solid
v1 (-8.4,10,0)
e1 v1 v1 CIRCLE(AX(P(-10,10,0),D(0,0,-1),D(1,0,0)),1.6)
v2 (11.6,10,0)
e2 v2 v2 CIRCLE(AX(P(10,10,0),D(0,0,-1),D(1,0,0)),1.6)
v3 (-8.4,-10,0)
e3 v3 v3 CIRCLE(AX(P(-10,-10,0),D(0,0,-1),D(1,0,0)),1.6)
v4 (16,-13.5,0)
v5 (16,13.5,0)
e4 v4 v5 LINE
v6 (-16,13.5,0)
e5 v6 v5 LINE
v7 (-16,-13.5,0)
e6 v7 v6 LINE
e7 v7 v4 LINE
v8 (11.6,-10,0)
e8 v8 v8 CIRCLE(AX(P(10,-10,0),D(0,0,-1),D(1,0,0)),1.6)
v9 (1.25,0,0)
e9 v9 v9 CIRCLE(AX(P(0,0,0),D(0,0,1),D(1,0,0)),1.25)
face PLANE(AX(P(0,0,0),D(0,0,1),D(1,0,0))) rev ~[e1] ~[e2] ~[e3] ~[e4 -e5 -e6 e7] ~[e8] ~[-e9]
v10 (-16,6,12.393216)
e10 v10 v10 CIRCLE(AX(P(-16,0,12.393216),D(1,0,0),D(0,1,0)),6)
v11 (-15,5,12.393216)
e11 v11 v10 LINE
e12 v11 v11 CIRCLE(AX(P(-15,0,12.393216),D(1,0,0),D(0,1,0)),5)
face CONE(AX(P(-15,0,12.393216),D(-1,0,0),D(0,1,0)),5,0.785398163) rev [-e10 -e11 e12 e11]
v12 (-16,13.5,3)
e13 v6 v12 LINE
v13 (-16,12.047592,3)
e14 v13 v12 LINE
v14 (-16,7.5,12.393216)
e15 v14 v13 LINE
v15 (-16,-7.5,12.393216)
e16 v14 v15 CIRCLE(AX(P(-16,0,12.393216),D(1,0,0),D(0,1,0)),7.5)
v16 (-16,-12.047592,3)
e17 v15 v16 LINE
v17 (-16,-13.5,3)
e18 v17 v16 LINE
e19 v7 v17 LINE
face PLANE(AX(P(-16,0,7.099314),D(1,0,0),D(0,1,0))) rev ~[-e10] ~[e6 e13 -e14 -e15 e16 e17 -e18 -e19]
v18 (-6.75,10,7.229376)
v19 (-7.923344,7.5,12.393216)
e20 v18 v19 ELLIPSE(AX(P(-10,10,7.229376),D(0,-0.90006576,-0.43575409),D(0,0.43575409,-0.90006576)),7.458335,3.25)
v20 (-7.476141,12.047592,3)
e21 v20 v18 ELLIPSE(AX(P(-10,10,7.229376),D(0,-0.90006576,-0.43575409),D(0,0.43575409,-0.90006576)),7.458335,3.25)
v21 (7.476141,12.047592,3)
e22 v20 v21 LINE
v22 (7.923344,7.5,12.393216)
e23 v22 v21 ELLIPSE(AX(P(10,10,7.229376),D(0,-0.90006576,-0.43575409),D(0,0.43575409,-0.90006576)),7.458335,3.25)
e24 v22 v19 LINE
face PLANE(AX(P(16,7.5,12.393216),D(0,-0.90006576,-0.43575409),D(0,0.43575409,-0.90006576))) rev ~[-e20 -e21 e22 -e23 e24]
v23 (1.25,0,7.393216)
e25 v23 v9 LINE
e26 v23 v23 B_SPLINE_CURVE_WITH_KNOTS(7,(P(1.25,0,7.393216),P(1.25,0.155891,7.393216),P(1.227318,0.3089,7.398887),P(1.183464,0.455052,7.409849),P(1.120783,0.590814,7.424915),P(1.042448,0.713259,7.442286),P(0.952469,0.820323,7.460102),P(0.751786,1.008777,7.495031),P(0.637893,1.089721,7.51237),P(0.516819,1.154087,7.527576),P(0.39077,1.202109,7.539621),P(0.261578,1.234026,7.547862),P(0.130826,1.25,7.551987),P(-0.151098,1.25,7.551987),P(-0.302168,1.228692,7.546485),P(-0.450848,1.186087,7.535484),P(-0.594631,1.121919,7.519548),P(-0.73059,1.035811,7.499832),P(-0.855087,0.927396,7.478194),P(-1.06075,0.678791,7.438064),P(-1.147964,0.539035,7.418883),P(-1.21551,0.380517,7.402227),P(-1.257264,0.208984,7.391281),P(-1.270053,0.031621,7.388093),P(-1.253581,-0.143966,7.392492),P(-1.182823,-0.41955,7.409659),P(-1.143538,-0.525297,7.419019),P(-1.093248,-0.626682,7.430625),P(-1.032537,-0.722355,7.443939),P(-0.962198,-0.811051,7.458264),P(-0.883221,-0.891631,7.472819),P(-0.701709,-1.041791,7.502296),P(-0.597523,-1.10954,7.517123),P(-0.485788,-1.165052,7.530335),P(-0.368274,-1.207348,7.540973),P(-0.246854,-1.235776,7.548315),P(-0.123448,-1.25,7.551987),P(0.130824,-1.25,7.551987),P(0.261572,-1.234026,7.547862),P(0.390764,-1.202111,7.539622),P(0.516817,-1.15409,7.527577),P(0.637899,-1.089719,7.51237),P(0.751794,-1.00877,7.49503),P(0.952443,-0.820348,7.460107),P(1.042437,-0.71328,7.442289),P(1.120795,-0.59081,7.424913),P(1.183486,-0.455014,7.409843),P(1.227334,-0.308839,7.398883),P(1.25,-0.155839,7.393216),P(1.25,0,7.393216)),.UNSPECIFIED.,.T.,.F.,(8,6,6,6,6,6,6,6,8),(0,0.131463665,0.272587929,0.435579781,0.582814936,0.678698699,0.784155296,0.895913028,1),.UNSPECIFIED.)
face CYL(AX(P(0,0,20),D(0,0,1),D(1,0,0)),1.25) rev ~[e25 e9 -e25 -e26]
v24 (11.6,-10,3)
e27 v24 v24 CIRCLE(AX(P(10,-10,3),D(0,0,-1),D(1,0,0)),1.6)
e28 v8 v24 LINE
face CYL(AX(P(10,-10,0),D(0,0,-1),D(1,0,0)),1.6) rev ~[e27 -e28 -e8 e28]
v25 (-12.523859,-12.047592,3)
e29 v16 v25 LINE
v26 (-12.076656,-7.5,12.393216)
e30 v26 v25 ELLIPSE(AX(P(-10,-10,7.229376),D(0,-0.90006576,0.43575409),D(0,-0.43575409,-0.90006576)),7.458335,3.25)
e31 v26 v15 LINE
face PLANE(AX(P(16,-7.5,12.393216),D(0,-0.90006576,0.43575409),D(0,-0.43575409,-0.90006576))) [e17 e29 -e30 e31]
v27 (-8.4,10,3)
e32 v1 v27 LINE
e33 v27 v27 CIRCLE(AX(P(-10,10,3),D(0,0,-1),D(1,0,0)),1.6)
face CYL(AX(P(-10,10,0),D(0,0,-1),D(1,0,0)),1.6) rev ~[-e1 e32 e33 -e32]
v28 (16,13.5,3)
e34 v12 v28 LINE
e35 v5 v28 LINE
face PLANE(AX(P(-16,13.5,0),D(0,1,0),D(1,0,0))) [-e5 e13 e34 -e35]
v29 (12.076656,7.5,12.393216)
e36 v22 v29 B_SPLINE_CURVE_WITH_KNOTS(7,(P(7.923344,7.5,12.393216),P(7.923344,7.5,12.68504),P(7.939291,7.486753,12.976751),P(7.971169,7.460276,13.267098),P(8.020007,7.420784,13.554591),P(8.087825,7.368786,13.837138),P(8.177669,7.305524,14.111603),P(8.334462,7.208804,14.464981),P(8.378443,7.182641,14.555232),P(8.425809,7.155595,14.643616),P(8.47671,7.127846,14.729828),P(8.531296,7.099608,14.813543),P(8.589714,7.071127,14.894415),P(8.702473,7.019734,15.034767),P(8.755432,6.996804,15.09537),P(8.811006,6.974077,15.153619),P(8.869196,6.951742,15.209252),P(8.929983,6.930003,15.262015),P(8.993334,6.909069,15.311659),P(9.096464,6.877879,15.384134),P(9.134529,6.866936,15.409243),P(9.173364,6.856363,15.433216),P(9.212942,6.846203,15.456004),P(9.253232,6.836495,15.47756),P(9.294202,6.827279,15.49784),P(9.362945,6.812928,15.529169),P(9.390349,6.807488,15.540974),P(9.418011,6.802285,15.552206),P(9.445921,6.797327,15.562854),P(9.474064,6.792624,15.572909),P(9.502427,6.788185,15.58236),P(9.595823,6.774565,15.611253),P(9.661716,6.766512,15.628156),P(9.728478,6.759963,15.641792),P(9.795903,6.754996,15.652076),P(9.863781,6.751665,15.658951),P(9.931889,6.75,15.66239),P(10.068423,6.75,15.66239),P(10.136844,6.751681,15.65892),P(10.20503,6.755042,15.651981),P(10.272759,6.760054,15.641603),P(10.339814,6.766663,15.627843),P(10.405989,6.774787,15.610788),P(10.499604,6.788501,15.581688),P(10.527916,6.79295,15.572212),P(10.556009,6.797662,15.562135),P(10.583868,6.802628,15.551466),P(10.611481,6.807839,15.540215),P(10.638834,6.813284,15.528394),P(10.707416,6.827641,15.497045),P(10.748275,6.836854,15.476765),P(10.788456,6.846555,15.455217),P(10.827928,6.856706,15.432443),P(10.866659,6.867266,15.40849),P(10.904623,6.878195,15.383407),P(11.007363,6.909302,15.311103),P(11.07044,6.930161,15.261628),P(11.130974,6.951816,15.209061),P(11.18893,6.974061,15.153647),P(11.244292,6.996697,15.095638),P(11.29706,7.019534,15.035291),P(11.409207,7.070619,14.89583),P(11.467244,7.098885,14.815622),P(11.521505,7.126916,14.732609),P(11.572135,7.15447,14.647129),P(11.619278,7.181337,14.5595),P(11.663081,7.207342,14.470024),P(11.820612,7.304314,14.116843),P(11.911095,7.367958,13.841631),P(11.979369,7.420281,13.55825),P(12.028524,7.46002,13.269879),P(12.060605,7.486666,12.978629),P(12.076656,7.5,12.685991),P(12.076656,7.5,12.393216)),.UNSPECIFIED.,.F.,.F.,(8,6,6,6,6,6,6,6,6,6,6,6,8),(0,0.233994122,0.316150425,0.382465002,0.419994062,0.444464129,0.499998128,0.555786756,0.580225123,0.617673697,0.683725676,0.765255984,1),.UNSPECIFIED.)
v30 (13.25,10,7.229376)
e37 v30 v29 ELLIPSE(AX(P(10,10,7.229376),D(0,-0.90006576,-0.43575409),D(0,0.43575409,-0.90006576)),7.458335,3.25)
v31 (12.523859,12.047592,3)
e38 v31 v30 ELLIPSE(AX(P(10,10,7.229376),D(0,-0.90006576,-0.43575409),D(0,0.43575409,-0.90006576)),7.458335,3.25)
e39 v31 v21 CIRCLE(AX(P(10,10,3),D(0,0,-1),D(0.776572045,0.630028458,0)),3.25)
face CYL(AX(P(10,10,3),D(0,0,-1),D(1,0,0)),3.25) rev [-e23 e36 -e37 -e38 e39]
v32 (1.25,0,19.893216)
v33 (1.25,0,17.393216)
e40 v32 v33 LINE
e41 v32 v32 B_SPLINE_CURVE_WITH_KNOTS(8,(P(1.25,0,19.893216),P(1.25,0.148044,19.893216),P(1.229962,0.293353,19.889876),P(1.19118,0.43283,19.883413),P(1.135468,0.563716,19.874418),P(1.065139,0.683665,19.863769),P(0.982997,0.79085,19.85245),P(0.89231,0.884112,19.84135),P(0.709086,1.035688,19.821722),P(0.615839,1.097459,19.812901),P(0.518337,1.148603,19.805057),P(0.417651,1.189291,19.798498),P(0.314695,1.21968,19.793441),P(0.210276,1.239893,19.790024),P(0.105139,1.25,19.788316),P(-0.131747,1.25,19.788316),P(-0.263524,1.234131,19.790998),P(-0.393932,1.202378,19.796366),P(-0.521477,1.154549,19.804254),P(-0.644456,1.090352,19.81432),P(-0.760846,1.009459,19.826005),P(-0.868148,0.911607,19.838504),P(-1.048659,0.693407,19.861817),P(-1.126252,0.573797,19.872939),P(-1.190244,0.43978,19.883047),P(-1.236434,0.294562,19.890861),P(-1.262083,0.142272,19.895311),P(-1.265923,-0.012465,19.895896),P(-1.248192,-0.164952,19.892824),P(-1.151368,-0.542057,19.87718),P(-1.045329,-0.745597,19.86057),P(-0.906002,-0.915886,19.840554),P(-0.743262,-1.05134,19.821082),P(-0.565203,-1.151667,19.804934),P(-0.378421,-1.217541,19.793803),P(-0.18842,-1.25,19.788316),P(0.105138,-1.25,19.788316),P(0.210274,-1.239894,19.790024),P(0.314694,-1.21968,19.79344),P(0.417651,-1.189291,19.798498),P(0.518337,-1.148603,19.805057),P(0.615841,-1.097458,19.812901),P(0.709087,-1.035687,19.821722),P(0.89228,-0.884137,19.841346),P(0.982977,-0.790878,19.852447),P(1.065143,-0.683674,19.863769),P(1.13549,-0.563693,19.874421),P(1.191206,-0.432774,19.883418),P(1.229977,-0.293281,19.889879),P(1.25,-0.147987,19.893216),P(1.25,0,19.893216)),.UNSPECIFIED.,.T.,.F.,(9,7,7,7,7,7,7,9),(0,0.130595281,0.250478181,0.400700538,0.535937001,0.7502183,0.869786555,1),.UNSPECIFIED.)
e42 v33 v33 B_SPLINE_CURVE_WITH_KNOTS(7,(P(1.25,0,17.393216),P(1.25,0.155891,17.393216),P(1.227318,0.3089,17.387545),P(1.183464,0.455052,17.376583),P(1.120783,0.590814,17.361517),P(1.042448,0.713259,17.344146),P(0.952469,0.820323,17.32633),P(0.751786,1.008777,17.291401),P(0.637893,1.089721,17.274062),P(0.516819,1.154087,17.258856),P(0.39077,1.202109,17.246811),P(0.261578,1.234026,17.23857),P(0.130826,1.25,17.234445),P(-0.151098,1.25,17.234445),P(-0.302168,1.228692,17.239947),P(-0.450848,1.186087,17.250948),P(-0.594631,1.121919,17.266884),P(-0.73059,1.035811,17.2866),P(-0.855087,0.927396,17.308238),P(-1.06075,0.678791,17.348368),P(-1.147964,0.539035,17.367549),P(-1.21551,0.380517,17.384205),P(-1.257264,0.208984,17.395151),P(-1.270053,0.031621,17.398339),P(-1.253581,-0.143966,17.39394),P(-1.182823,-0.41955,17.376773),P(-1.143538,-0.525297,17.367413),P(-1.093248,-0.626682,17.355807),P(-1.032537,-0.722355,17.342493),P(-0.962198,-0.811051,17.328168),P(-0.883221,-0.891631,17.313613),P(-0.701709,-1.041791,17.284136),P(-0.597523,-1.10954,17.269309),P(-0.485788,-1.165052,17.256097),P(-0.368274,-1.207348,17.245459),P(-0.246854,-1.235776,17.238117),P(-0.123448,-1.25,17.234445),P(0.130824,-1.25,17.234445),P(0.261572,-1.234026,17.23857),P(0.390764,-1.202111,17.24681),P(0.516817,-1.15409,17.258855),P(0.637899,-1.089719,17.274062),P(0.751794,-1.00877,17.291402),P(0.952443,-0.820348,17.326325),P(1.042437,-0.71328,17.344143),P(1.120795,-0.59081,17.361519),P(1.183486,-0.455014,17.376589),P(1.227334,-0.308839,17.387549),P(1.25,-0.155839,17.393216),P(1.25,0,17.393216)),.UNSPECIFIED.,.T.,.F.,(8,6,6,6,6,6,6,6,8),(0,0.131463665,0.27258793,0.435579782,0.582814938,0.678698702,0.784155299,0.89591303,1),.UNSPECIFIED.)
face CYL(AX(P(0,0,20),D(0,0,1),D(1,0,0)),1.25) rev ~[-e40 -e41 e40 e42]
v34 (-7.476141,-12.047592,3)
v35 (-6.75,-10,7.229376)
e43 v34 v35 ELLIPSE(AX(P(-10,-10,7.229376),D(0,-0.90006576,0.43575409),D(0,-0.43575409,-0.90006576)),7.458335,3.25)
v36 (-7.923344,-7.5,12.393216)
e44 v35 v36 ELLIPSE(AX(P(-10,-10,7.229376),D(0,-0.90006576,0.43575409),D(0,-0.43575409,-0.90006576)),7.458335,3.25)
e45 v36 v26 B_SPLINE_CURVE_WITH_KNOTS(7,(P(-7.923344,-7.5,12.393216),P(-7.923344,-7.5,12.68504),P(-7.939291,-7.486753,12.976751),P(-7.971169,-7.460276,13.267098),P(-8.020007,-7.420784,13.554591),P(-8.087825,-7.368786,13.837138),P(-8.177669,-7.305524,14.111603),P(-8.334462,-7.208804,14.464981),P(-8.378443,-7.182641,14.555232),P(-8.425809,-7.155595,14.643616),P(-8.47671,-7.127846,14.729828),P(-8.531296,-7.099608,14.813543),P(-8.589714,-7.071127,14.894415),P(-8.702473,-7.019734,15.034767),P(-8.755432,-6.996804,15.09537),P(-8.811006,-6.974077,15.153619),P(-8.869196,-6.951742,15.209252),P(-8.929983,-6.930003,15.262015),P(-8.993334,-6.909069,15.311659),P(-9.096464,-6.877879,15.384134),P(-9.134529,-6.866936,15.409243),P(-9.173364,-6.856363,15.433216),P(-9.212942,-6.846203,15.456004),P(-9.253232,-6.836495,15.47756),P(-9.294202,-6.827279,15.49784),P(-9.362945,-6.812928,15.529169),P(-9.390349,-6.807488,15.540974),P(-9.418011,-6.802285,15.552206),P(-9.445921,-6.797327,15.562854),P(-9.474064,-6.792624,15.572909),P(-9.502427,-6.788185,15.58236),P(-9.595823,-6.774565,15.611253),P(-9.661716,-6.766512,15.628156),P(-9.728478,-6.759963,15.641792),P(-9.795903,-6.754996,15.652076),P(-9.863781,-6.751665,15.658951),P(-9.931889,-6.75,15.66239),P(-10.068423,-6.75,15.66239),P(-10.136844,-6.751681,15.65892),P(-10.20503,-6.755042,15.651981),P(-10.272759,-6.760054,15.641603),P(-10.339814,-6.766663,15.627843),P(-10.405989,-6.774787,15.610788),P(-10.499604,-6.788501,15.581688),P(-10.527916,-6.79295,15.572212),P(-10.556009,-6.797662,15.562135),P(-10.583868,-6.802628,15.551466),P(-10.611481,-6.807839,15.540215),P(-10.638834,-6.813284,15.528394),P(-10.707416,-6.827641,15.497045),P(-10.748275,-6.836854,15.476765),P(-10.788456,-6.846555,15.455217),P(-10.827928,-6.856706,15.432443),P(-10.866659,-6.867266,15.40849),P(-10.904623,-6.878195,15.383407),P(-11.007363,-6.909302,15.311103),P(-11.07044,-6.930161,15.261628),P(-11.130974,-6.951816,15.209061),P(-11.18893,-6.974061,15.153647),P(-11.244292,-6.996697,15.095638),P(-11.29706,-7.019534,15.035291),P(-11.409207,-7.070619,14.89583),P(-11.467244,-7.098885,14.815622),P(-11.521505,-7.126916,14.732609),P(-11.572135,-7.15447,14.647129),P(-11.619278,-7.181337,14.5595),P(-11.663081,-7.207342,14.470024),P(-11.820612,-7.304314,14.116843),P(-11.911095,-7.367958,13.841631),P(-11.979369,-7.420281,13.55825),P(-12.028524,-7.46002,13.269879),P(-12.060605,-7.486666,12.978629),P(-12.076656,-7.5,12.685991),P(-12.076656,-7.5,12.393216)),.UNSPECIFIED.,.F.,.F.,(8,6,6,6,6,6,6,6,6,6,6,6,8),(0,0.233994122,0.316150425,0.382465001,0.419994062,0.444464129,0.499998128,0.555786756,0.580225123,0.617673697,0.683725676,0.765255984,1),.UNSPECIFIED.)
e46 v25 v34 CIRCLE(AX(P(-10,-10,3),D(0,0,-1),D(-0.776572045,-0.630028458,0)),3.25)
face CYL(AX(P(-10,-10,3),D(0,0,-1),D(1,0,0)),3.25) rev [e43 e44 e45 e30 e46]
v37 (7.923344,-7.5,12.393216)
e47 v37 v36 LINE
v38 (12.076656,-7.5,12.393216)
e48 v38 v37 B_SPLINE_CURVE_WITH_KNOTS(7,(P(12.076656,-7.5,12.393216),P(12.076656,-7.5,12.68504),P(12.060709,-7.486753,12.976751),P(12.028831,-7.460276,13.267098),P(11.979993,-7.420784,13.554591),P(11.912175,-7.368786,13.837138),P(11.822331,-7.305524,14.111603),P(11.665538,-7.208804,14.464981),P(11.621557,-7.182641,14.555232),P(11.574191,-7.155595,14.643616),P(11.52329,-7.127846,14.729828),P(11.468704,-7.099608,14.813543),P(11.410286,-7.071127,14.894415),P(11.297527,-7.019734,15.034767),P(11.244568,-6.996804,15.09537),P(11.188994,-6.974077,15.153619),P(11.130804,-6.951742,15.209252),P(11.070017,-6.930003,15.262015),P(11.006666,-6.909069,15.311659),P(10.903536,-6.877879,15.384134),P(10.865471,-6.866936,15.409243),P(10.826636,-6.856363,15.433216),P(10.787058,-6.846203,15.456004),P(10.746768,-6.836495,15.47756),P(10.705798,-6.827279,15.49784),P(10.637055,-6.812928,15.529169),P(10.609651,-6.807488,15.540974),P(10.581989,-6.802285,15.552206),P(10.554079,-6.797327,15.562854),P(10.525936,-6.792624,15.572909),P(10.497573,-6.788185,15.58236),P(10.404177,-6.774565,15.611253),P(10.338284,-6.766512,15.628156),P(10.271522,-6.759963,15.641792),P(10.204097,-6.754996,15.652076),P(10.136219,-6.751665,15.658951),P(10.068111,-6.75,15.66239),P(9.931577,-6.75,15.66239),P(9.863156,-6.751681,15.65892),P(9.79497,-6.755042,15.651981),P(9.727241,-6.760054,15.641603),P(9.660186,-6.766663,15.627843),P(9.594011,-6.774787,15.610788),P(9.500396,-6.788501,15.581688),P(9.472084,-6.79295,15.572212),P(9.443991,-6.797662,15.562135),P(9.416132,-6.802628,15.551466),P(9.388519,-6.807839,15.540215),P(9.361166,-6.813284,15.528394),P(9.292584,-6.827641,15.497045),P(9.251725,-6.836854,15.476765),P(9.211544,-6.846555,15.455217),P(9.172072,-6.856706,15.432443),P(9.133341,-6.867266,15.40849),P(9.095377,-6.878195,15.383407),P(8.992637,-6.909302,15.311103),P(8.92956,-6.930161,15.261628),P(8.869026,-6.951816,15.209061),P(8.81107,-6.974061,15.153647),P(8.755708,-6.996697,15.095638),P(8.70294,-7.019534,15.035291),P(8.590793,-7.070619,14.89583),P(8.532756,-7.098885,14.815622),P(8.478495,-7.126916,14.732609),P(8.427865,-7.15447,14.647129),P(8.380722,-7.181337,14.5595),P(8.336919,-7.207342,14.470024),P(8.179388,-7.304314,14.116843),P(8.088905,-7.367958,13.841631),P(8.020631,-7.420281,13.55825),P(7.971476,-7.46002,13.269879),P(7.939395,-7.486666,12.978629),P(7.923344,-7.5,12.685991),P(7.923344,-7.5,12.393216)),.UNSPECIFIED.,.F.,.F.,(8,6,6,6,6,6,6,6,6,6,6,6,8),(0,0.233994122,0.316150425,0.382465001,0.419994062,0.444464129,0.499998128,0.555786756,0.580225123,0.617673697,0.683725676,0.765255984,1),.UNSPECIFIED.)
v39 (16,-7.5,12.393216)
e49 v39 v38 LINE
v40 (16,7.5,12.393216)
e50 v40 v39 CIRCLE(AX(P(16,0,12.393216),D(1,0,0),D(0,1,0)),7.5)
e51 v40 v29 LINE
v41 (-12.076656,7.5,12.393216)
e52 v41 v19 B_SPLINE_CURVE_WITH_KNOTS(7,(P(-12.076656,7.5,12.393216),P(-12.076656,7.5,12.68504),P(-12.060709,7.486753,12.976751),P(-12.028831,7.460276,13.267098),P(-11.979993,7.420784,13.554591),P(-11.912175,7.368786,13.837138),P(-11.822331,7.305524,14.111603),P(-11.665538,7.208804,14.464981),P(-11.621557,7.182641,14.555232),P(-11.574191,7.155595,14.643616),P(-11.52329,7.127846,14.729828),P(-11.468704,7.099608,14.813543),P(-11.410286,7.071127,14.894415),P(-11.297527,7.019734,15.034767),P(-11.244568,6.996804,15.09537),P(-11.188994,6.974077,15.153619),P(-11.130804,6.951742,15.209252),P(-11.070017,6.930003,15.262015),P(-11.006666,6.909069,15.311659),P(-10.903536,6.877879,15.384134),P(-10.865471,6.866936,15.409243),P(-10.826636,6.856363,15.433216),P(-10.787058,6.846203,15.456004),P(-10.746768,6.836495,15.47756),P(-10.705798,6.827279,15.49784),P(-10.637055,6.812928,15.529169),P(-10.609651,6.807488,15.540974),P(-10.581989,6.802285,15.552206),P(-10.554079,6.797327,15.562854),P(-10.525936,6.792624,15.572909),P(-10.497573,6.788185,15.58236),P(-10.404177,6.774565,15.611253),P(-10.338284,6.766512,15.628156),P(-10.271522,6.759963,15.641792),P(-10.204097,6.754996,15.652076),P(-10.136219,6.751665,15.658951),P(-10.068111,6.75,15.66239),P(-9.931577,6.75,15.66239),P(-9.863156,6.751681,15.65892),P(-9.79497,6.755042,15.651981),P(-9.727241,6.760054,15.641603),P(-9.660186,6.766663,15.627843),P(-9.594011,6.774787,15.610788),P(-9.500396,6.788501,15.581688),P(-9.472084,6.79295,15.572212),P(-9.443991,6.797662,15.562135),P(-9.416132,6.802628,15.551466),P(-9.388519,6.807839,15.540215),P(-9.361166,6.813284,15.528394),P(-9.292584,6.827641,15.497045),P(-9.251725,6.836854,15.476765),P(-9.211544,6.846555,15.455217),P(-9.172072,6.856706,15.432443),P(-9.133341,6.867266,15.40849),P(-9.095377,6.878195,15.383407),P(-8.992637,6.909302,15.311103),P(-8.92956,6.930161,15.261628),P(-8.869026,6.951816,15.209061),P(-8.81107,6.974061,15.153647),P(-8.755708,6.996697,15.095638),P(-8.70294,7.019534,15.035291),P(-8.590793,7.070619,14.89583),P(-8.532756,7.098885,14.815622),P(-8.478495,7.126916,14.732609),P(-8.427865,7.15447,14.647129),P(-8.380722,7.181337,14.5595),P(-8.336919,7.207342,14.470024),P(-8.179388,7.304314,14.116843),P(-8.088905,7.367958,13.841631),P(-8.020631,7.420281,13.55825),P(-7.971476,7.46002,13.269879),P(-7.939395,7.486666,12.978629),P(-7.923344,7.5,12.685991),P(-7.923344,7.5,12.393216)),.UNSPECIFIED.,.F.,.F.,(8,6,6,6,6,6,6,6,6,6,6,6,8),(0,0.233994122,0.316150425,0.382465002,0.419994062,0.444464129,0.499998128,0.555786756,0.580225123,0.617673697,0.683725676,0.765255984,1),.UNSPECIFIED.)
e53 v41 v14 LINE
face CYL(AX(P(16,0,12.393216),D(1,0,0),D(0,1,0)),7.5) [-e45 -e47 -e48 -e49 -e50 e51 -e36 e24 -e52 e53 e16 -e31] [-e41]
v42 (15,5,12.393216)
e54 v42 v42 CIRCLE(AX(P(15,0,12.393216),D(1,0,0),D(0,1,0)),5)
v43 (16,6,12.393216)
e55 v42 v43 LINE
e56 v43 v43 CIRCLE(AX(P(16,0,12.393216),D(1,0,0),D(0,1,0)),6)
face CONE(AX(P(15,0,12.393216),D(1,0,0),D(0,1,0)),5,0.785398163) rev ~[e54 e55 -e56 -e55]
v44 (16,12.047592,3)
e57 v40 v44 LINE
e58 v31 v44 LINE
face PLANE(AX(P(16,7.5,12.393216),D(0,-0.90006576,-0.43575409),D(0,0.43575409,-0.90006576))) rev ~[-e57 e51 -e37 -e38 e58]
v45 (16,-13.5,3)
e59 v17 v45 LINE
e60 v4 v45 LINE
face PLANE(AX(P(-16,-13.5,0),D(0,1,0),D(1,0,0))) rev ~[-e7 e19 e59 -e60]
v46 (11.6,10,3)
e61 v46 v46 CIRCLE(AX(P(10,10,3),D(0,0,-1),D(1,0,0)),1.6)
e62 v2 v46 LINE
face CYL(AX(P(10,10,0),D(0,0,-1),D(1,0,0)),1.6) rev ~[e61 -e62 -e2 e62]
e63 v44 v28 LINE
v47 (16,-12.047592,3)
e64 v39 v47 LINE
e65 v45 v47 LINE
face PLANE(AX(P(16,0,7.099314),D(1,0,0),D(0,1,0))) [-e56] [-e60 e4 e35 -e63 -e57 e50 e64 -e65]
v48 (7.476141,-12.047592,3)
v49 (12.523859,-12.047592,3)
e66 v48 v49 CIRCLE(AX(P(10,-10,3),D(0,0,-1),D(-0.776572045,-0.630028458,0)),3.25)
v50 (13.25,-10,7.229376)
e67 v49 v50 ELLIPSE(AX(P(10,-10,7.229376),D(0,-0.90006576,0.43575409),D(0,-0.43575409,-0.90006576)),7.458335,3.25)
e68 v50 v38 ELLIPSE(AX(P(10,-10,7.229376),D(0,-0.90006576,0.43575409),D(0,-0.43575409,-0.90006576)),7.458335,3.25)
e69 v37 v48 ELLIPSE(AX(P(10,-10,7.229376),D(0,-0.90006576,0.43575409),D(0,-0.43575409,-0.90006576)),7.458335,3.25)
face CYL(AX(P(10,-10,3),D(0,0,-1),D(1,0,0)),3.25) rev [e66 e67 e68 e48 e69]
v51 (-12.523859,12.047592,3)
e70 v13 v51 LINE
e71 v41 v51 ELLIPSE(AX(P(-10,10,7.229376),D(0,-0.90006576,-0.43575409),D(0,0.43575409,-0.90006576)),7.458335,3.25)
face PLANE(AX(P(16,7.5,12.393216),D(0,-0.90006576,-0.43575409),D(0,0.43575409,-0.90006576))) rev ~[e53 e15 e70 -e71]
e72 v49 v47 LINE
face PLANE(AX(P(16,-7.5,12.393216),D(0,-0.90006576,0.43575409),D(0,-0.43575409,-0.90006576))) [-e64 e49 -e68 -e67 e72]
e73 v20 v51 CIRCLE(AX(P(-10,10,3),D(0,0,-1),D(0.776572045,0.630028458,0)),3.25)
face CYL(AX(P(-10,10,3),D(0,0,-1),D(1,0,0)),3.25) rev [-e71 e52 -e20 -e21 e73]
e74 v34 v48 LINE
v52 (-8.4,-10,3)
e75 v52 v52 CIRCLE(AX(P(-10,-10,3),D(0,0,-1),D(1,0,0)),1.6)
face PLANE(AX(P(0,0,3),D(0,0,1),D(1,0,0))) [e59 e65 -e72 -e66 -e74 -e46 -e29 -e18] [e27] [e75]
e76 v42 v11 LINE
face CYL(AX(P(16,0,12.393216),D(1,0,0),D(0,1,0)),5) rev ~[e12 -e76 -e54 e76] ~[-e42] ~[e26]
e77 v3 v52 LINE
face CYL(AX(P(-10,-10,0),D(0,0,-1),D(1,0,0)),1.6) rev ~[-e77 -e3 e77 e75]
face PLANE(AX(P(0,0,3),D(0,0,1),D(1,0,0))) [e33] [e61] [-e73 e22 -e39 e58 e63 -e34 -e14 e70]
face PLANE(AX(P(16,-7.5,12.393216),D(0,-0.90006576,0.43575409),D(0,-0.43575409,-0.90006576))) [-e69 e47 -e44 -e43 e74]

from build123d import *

# Parameters (mm, degrees)
SKETCH_W        = 32
SKETCH_H        = 27
SKETCH_R        = 1.65
PAD_DEPTH       = 3
SKETCH001_R     = 5
PAD001_DEPTH    = 32
SKETCH002_R     = 1.6
POCKET_DEPTH    = 19.894216
SKETCH003_R     = 3.25
POCKET001_DEPTH = 16.894216
CHAMFER_SIZE    = 1
CHAMFER001_SIZE = 1
SKETCH004_R     = 1.25
POCKET002_DEPTH = 20.001


with BuildPart() as part:
    # Sketch → Pad (new body)
    with BuildSketch(Plane.XY):
        Rectangle(SKETCH_W, SKETCH_H)
        with Locations((-10, -10)):
            Circle(SKETCH_R, mode=Mode.SUBTRACT)
        with Locations((-10, 10)):
            Circle(SKETCH_R, mode=Mode.SUBTRACT)
        with Locations((10, 10)):
            Circle(SKETCH_R, mode=Mode.SUBTRACT)
        with Locations((10, -10)):
            Circle(SKETCH_R, mode=Mode.SUBTRACT)
    extrude(amount=PAD_DEPTH)

    # Sketch001 (on Face2 of Pad) → Pad001 (join)
    with BuildSketch(Plane.YZ.offset(16)):
        with BuildLine():
            ThreePointArc((7.5, 12.393216), (0, 19.893216), (-7.5, 12.393216))
            Line((-7.5, 12.393216), (-13.5, 0))
            Line((-13.5, 0), (13.5, 0))
            Line((7.5, 12.393216), (13.5, 0))
        make_face()
        with Locations((0, 12.393216)):
            Circle(SKETCH001_R, mode=Mode.SUBTRACT)
    extrude(amount=-PAD001_DEPTH)

    # Sketch002 (on Face4 of Pad001) → Pocket (cut, through all)
    with BuildSketch(Plane(origin=(0, 0, 0), x_dir=(1, 0, 0), z_dir=(0, 0, -1))):
        with Locations((10, 10)):
            Circle(SKETCH002_R)
        with Locations((-10, 10)):
            Circle(SKETCH002_R)
        with Locations((-10, -10)):
            Circle(SKETCH002_R)
        with Locations((10, -10)):
            Circle(SKETCH002_R)
    extrude(amount=-POCKET_DEPTH, mode=Mode.SUBTRACT)

    # Sketch003 (on Face18 of Pocket) → Pocket001 (cut, through all)
    with BuildSketch(Plane.XY.offset(3)):
        with Locations((-10, 10)):
            Circle(SKETCH003_R)
        with Locations((10, 10)):
            Circle(SKETCH003_R)
        with Locations((-10, -10)):
            Circle(SKETCH003_R)
        with Locations((10, -10)):
            Circle(SKETCH003_R)
    extrude(amount=POCKET001_DEPTH, mode=Mode.SUBTRACT)

    # Chamfer
    chamfer_edges = [part.edges().sort_by_distance(p)[0] for p in [
        (16, -5, 12.393216),
    ]]
    chamfer(chamfer_edges, length=CHAMFER_SIZE)

    # Chamfer001
    chamfer001_edges = [part.edges().sort_by_distance(p)[0] for p in [
        (-16, -5, 12.393216),
    ]]
    chamfer(chamfer001_edges, length=CHAMFER001_SIZE)

    # Sketch004 → Pocket002 (cut, through all)
    with BuildSketch(Plane.XY.offset(20)):
        Circle(SKETCH004_R)
    extrude(amount=-POCKET002_DEPTH, mode=Mode.SUBTRACT)


solid = part.part
